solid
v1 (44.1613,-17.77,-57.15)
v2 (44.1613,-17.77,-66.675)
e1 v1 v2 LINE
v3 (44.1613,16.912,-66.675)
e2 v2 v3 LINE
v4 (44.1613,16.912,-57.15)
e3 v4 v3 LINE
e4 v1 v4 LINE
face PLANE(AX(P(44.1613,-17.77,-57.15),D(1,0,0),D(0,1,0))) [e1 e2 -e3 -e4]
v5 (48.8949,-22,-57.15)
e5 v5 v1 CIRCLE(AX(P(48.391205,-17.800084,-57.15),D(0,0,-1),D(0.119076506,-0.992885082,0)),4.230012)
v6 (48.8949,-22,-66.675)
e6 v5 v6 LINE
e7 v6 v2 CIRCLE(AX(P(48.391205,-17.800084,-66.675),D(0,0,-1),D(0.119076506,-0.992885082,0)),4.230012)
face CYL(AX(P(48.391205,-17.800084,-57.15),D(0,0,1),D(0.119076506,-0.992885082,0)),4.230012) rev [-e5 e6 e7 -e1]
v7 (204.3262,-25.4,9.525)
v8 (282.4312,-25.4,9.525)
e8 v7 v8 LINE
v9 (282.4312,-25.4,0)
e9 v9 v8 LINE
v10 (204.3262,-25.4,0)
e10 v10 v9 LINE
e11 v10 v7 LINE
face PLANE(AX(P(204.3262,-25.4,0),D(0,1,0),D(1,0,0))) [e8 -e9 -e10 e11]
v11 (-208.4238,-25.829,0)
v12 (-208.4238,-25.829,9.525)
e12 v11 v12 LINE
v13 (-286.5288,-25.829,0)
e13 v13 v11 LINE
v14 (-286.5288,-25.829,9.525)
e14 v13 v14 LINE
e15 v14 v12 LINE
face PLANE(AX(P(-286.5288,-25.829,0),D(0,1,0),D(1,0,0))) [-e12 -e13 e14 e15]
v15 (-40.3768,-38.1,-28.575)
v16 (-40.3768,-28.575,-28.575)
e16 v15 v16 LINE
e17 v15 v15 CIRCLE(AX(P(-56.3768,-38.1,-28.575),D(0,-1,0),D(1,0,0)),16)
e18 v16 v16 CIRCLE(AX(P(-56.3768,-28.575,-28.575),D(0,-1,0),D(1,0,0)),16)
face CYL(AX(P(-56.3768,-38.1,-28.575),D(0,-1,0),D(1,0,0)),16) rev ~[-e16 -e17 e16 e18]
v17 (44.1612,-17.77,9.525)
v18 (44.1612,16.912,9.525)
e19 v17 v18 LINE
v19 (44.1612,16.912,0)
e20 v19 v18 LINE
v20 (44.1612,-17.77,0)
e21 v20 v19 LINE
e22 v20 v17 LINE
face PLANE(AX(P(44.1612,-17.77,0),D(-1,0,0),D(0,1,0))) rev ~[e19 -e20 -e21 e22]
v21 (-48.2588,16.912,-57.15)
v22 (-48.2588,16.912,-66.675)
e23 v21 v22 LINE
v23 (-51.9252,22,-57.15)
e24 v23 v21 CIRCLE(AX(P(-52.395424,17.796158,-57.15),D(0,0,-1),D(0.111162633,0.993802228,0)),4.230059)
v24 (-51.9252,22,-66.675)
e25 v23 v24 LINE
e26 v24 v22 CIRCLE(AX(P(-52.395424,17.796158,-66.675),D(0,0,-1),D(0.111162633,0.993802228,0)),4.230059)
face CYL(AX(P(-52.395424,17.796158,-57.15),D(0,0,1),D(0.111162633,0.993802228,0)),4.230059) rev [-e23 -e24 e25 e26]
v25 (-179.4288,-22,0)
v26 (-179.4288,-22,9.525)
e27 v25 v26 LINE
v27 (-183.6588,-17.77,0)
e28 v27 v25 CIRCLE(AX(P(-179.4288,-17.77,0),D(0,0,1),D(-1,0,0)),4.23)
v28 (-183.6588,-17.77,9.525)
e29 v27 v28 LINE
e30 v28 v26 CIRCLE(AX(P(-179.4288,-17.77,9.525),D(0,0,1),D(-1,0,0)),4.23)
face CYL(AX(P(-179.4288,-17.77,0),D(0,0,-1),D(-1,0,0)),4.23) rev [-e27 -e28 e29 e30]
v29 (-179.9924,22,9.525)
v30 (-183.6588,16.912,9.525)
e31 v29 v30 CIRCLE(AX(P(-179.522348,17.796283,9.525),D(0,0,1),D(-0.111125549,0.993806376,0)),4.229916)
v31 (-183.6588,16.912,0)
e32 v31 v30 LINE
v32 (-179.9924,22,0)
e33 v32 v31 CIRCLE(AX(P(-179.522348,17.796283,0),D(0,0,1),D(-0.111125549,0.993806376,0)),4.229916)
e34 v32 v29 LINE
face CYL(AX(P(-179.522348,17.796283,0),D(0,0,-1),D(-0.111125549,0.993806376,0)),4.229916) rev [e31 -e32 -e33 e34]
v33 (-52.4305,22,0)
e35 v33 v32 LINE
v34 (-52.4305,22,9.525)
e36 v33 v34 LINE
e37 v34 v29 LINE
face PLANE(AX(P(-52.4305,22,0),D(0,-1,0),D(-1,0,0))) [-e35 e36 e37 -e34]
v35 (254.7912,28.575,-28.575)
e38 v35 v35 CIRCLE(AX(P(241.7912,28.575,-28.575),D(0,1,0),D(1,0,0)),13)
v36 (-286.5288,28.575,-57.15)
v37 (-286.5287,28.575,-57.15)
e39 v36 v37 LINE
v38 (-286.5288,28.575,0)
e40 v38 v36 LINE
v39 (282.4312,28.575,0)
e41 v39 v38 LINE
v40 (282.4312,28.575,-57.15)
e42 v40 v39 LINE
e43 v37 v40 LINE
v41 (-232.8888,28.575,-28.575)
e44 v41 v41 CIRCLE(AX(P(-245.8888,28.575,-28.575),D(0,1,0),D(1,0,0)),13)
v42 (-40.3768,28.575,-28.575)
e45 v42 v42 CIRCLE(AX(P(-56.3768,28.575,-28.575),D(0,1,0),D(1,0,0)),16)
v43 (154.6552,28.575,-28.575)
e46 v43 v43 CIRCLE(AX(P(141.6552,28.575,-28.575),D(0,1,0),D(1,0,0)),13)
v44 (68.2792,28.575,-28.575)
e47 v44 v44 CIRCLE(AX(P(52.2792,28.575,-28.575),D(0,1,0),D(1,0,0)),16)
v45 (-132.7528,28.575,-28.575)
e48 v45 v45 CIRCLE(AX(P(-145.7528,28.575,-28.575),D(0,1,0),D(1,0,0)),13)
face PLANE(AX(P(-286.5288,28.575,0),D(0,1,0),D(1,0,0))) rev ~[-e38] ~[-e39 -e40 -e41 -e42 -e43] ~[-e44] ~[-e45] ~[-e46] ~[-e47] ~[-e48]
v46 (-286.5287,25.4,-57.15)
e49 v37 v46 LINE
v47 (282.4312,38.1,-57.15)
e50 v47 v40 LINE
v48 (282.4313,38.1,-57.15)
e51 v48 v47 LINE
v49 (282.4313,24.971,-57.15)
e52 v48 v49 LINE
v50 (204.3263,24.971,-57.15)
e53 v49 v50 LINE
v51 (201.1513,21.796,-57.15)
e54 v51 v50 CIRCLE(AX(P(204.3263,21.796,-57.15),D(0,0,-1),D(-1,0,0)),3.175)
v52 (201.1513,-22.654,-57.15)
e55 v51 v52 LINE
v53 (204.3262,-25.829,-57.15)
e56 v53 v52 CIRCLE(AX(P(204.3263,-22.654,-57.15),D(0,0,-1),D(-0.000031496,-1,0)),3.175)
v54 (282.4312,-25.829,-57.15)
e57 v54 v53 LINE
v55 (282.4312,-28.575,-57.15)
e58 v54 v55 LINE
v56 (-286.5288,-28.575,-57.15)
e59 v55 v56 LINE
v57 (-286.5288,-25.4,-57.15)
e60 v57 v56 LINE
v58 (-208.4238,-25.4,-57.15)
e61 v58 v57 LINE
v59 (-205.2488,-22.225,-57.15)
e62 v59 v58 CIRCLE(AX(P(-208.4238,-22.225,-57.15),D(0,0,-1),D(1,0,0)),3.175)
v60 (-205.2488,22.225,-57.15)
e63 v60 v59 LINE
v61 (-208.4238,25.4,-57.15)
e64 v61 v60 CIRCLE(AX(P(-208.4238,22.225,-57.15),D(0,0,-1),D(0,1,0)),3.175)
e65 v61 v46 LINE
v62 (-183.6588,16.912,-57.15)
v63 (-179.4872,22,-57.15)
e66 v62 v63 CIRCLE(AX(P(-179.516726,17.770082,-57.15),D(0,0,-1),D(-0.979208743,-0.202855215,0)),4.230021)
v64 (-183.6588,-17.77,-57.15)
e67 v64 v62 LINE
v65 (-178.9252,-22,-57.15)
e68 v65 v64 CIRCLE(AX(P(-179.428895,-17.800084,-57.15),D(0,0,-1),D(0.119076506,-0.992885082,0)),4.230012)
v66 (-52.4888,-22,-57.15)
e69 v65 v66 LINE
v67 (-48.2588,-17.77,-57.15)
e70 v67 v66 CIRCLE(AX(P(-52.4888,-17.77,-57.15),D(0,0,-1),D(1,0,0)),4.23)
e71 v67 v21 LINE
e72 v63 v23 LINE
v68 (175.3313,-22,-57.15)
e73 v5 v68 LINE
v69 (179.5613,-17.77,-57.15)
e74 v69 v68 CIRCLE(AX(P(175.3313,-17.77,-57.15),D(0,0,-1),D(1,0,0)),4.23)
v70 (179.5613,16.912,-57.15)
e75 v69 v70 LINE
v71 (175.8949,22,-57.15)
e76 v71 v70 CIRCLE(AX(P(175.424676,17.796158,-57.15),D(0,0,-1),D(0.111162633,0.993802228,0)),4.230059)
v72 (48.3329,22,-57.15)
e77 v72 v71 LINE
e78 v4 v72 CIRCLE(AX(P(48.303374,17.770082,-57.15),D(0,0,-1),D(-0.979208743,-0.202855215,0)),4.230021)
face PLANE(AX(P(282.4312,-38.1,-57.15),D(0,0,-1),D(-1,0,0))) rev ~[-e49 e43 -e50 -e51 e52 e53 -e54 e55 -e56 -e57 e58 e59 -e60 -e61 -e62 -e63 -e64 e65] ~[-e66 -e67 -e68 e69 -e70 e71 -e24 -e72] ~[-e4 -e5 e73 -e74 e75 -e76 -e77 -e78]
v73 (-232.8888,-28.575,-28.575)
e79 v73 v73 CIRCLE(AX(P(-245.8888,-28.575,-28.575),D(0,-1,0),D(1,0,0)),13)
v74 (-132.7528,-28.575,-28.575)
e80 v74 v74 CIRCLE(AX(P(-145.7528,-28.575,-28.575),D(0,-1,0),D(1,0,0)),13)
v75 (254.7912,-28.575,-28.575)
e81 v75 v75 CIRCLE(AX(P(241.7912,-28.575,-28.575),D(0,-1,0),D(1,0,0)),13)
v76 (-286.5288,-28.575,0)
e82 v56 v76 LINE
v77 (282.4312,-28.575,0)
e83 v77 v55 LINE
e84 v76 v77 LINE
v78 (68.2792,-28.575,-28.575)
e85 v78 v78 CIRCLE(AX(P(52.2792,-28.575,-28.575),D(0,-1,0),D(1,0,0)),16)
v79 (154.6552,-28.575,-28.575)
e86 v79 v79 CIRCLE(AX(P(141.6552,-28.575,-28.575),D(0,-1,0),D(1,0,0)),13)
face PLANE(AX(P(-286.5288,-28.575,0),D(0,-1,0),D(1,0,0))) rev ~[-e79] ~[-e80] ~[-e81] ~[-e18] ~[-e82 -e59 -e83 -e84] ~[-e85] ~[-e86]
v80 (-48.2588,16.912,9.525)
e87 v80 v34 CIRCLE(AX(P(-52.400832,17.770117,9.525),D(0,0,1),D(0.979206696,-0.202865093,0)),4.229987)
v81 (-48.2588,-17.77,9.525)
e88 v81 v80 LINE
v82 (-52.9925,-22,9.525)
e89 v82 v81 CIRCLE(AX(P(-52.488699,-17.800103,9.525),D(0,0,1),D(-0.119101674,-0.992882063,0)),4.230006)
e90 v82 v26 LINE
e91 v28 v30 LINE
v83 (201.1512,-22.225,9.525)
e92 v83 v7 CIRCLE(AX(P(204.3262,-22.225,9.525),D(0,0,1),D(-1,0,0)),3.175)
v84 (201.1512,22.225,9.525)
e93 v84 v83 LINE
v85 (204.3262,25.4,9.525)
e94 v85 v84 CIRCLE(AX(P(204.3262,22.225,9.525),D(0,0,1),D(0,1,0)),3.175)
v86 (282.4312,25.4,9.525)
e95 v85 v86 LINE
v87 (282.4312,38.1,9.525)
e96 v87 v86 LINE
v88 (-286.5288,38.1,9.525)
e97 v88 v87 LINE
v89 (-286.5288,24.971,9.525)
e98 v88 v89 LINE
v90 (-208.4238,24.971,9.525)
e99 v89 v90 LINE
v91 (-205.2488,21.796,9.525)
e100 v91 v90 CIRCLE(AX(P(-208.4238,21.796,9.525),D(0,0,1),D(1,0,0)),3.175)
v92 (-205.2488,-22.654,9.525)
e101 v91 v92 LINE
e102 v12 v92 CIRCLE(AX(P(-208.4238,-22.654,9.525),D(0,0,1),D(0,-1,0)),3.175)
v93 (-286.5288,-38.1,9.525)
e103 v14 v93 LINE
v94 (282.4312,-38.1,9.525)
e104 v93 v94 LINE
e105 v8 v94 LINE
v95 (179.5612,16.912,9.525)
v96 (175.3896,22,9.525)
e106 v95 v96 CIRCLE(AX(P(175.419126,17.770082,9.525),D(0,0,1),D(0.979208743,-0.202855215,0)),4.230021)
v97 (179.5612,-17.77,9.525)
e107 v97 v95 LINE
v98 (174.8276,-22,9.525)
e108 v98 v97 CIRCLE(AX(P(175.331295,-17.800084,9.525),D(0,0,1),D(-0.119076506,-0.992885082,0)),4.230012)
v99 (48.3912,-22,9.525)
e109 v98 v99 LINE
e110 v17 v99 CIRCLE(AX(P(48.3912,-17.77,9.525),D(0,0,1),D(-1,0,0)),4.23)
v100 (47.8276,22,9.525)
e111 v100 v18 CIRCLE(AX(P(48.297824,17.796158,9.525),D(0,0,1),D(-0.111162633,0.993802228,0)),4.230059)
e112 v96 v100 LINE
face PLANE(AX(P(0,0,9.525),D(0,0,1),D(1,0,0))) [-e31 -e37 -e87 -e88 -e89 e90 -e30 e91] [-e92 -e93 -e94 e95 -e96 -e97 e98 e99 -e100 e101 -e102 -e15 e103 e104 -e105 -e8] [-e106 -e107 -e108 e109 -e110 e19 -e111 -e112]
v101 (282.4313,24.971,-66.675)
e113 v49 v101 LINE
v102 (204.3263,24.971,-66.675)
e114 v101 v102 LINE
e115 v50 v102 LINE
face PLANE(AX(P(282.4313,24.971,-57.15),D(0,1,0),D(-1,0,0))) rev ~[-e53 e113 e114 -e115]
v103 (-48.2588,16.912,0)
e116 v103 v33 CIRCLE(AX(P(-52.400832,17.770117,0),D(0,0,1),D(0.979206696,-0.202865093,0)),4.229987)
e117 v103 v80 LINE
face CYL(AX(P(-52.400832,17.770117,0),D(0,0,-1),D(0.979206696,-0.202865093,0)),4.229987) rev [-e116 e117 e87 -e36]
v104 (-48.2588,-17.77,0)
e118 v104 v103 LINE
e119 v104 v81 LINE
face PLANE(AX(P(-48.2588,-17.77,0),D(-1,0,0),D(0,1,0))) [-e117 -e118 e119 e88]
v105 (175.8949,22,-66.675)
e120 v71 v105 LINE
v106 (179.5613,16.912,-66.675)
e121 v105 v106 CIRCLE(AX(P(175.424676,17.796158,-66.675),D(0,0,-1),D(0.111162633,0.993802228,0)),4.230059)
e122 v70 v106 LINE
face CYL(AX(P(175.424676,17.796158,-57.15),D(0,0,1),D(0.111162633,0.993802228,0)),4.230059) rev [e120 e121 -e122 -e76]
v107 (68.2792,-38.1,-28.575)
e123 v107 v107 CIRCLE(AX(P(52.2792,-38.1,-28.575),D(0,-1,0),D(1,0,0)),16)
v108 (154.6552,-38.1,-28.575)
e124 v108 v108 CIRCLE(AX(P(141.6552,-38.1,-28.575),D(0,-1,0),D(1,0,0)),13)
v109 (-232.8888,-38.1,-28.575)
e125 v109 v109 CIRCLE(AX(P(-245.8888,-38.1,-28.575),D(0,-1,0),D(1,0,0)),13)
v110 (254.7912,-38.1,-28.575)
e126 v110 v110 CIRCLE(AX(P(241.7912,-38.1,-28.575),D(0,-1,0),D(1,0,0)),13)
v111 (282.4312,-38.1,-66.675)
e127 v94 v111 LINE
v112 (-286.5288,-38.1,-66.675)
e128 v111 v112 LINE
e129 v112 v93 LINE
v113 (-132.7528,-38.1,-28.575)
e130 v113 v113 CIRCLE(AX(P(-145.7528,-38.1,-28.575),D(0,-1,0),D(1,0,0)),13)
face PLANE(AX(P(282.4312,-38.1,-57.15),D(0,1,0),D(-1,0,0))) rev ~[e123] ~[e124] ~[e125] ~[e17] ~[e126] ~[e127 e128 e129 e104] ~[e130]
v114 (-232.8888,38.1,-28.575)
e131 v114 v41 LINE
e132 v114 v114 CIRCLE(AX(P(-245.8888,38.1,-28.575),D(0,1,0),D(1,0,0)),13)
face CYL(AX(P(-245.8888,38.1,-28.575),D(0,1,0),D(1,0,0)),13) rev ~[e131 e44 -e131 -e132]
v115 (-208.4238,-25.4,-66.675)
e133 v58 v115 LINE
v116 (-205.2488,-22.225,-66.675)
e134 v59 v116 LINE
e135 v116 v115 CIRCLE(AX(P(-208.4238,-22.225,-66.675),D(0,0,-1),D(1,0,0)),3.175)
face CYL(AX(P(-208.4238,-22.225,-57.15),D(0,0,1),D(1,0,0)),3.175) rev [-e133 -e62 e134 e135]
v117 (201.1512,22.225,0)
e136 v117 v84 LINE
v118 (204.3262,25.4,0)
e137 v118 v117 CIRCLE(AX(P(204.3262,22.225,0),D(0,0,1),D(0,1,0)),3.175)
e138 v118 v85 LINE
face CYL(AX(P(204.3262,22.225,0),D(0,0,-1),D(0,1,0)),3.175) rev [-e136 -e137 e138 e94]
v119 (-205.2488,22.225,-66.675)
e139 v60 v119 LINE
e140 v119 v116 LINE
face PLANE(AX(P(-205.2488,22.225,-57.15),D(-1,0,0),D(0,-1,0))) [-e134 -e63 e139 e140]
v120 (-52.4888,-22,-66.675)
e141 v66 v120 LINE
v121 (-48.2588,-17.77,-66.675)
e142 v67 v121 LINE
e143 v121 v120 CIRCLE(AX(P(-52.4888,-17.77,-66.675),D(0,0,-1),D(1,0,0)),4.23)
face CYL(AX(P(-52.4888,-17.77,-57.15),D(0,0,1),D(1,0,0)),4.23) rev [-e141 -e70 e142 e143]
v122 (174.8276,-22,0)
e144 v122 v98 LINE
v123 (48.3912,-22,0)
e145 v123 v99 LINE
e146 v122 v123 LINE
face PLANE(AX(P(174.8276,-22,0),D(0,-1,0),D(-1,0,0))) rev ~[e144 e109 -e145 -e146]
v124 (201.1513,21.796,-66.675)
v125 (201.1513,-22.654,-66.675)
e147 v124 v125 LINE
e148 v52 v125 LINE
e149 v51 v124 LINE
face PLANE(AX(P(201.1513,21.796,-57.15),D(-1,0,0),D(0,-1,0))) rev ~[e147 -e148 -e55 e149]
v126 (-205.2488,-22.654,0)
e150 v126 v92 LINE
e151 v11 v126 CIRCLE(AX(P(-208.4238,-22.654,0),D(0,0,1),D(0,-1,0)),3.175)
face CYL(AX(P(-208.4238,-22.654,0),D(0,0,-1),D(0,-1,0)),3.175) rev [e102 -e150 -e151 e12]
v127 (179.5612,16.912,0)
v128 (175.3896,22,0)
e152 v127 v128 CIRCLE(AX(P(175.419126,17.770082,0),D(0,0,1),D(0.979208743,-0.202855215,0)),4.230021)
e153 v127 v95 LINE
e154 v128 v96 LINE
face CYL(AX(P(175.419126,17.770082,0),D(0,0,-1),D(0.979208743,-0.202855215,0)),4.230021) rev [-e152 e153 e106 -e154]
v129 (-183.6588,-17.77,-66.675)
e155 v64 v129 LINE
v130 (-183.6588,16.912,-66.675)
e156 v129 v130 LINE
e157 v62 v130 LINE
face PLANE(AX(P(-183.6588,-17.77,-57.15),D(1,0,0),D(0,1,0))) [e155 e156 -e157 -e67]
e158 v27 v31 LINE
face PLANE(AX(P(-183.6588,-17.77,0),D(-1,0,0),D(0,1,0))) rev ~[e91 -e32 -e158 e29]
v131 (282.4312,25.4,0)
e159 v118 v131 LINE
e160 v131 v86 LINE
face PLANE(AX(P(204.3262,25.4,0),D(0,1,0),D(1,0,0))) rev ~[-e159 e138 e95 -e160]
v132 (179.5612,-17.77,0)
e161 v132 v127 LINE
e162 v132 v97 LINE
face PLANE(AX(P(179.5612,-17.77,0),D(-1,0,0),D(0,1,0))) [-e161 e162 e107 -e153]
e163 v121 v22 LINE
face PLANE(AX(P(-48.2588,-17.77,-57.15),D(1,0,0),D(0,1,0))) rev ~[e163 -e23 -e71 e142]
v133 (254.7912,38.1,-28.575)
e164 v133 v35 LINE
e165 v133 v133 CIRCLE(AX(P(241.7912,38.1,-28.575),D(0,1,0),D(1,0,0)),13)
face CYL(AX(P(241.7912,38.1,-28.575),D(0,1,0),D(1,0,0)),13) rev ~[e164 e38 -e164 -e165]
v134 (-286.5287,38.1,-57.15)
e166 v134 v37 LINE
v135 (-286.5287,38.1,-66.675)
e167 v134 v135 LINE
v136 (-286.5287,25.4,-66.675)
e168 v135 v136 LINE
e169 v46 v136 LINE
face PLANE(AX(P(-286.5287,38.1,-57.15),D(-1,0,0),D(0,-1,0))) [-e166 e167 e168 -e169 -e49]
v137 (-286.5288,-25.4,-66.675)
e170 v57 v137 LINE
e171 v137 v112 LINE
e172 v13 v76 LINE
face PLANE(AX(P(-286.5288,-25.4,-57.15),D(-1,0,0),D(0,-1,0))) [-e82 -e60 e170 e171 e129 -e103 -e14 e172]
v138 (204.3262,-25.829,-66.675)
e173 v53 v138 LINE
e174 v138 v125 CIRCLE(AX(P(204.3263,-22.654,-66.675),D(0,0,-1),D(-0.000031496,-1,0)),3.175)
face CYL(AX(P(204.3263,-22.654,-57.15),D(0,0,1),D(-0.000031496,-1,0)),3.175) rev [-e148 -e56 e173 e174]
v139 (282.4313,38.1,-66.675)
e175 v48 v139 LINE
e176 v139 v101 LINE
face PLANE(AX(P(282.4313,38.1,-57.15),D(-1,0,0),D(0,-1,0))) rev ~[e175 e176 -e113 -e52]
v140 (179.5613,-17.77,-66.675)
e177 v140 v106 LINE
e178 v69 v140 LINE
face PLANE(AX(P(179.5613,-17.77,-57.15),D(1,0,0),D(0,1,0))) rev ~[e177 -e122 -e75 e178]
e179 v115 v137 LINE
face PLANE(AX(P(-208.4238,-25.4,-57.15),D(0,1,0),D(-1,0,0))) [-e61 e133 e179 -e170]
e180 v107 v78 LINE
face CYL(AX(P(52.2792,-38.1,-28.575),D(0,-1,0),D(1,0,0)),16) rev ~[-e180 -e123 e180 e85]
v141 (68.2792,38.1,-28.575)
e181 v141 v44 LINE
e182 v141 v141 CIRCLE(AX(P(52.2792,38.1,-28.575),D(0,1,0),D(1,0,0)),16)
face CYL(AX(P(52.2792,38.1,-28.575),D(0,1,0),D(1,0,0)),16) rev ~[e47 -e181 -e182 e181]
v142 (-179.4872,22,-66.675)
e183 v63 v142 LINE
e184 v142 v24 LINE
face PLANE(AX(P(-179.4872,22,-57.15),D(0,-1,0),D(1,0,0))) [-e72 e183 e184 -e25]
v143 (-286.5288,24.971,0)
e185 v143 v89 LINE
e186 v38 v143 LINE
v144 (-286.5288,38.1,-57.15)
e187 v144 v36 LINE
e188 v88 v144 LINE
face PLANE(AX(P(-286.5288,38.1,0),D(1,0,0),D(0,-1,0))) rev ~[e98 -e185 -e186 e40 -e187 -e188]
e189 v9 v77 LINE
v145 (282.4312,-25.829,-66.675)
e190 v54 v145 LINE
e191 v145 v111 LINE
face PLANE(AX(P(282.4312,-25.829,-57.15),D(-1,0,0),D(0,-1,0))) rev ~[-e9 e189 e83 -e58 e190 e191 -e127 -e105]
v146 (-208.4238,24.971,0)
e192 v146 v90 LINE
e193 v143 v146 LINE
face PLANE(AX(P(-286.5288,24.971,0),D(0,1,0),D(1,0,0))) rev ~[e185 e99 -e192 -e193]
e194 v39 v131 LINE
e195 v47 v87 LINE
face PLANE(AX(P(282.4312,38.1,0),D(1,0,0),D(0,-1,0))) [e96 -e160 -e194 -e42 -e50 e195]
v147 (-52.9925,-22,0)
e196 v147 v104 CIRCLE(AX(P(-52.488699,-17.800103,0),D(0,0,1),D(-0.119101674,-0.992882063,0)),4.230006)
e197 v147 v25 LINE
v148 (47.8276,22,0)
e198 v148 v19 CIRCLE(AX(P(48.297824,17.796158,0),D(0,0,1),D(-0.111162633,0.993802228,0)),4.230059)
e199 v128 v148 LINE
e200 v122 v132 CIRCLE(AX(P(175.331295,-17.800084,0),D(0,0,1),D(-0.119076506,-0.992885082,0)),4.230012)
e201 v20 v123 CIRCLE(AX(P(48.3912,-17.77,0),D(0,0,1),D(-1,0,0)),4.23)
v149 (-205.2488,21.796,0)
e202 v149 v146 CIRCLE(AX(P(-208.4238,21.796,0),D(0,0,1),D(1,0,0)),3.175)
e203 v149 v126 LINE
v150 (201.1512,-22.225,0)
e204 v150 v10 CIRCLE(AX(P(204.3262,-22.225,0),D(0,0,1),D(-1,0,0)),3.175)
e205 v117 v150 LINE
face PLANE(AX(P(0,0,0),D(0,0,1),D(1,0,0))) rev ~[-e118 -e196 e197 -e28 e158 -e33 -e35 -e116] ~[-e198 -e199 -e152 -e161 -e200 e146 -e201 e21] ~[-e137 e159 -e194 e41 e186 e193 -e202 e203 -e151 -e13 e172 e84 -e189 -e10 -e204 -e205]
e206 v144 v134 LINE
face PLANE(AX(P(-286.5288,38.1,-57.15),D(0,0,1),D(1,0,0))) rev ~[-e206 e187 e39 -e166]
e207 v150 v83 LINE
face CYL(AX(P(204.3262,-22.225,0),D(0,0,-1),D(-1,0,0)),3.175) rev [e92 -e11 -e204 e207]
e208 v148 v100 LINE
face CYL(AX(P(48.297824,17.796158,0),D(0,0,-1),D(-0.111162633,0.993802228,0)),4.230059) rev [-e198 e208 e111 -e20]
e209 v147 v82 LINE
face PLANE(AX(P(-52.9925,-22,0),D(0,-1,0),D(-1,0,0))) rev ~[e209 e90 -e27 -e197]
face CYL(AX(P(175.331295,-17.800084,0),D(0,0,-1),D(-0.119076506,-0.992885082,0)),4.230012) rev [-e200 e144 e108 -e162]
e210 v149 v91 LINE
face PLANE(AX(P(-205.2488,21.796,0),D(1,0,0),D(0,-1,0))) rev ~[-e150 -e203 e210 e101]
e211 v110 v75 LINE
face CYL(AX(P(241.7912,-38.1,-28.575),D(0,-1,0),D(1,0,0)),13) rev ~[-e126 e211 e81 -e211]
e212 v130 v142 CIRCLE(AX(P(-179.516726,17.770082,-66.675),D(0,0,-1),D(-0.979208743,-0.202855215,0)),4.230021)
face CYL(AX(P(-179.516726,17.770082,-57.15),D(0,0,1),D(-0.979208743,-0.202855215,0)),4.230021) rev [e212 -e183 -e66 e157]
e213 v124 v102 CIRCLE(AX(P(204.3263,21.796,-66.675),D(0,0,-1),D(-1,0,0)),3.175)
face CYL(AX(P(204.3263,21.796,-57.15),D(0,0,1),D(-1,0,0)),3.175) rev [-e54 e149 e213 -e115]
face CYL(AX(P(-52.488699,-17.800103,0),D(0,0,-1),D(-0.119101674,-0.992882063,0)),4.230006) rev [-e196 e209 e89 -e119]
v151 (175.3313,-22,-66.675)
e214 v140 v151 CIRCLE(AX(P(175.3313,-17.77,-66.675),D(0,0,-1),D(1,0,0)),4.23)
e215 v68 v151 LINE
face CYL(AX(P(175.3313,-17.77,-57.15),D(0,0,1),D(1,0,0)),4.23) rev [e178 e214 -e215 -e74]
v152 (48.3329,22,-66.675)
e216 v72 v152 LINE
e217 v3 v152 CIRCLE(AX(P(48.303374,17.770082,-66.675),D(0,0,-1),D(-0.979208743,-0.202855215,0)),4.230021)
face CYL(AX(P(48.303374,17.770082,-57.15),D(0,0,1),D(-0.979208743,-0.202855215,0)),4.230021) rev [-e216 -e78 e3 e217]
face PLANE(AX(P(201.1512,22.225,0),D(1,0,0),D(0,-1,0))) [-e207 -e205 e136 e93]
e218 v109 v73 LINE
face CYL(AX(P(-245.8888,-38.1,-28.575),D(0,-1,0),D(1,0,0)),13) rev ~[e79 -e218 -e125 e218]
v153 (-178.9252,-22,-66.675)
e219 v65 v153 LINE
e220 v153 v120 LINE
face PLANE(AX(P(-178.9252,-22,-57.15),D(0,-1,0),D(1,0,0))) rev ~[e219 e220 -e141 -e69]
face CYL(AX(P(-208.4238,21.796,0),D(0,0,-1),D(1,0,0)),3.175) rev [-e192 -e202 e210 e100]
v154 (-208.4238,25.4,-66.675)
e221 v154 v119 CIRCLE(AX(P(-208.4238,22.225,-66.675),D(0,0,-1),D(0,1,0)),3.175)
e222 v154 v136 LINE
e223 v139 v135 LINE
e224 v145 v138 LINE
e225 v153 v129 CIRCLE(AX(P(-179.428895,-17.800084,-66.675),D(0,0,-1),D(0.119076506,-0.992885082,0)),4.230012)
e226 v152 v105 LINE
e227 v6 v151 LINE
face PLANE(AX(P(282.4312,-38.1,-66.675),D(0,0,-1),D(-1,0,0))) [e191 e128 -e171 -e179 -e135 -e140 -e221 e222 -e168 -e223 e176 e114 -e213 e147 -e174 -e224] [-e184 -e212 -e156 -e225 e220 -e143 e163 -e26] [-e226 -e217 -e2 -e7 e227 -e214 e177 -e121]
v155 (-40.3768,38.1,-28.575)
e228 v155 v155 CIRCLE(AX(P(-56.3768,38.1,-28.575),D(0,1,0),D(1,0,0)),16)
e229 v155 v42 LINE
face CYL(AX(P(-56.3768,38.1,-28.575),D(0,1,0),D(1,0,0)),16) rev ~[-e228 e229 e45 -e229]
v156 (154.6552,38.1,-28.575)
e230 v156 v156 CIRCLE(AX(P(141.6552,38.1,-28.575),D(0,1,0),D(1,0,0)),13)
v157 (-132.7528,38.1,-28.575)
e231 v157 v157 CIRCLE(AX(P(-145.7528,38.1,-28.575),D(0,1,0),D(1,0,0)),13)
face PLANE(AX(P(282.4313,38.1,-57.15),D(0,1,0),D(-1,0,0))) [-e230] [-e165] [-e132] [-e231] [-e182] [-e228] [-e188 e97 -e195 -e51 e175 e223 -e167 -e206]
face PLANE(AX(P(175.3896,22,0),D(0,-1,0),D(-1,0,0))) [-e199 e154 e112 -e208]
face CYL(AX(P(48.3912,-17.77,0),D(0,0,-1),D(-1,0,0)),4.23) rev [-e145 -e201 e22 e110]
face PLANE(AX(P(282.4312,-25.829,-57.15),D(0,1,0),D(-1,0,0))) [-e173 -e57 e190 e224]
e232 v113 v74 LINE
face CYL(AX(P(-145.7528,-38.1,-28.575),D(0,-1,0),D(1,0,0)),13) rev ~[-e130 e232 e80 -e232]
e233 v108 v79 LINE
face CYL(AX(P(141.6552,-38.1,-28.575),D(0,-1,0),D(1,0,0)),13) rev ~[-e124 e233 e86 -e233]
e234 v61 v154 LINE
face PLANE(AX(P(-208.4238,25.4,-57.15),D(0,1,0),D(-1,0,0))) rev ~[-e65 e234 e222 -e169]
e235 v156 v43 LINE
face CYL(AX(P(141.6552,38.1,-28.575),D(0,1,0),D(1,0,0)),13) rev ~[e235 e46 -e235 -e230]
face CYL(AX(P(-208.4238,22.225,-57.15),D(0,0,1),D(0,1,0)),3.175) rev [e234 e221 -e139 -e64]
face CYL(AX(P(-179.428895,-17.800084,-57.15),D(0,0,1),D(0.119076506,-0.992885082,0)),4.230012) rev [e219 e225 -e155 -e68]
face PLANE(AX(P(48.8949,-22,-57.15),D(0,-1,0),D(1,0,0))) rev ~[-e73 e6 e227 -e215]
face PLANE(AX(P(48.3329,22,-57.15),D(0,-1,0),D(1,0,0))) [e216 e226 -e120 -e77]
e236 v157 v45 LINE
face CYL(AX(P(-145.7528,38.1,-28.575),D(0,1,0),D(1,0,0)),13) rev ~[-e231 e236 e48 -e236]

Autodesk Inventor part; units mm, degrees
ref_plane "YZ Plane" through (0, 0, 0) normal (1, 0, 0) x (0, 1, 0)
ref_plane "XZ Plane" through (0, 0, 0) normal (0, 1, 0) x (-1, 0, 0)
ref_plane "XY Plane" through (0, 0, 0) normal (0, 0, 1) x (1, 0, 0)
sketch "Sketch1" plane through (0, 0, 0) normal (0, 0, 1) x (1, 0, 0)
  arc A0 (-183.6588, -17.77) -> (-179.4288, -22) centre (-179.4288, -17.77) ccw
  arc A1 (-179.9924, 22) -> (-183.6588, 16.912) centre (-179.5223, 17.7962) ccw
  line L0 (-183.6588, -17.77) -> (-183.6588, 16.912)
  line L1 (-205.2488, 21.796) -> (-205.2488, -22.654)
  line L2 (-286.5288, 24.971) -> (-208.4238, 24.971)
  line L3 (-286.5288, -25.829) -> (-208.4238, -25.829)
  line L4 (-52.9925, -22) -> (-179.4288, -22)
  line L5 (-52.4305, 22) -> (-179.9924, 22)
  arc A2 (-48.2588, 16.912) -> (-52.4305, 22) centre (-52.4009, 17.7701) ccw
  line L6 (-48.2588, -17.77) -> (-48.2588, 16.912)
  arc A3 (-52.9925, -22) -> (-48.2588, -17.77) centre (-52.4887, -17.8001) ccw
  arc A4 (-205.2488, 21.796) -> (-208.4238, 24.971) centre (-208.4238, 21.796) ccw
  arc A5 (-208.4238, -25.829) -> (-205.2488, -22.654) centre (-208.4238, -22.654) ccw
  line L7 (204.3262, -25.4) -> (282.4312, -25.4)
  line L8 (204.3262, 25.4) -> (282.4312, 25.4)
  line L9 (44.1612, -17.77) -> (44.1612, 16.912)
  arc A6 (44.1612, -17.77) -> (48.3912, -22) centre (48.3912, -17.77) ccw
  line L10 (175.3896, 22) -> (47.8276, 22)
  line L11 (174.8276, -22) -> (48.3912, -22)
  arc A7 (174.8276, -22) -> (179.5612, -17.77) centre (175.3313, -17.8001) ccw
  arc A8 (179.5612, 16.912) -> (175.3896, 22) centre (175.4192, 17.7701) ccw
  arc A9 (47.8276, 22) -> (44.1612, 16.912) centre (48.2978, 17.7962) ccw
  line L12 (179.5612, -17.77) -> (179.5612, 16.912)
  arc A10 (201.1512, -22.225) -> (204.3262, -25.4) centre (204.3262, -22.225) ccw
  arc A11 (204.3262, 25.4) -> (201.1512, 22.225) centre (204.3262, 22.225) ccw
  line L13 (201.1512, 22.225) -> (201.1512, -22.225)
  line L14 (-286.5288, 38.1) -> (282.4312, 38.1)
  line L15 (-286.5288, -38.1) -> (282.4312, -38.1)
  line L16 (282.4312, 38.1) -> (282.4312, 25.4)
  line L17 (282.4312, -25.4) -> (282.4312, -38.1)
  line L18 (-286.5288, 38.1) -> (-286.5288, 24.971)
  line L19 (-286.5288, -25.829) -> (-286.5288, -38.1)
  point P0 (0, 0)
  dimension "d0" = 135.4
  dimension "d1" = 44
  dimension "d2" = 78.105
  dimension "d3" = 50.8
  dimension "d4" = 44.45
  dimension "d5" = 21.59
  dimension "d6" = 135.4
  dimension "d7" = 44
  dimension "d8" = 78.105
  dimension "d9" = 50.8
  dimension "d10" = 568.96
  dimension "d11" = 21.59
extrude "Extrusion1" add sketch "Sketch1" along normal blind 9.525
sketch "Sketch2" plane through (-286.5288, 38.1, 0) normal (0, 1, 0) x (1, 0, 0)
  line L0 (0, 57.15) -> (568.96, 57.15)
  line L1 (568.96, 57.15) -> (568.96, 0)
  line L2 (568.96, 0) -> (0, 0)
  line L3 (0, 0) -> (0, 57.15)
  circle A0 centre (40.64, 28.575) radius 13
  circle A1 centre (140.776, 28.575) radius 13
  circle A2 centre (230.152, 28.575) radius 16
  circle A3 centre (528.32, 28.575) radius 13
  circle A4 centre (428.184, 28.575) radius 13
  circle A5 centre (338.808, 28.575) radius 16
  point P0 (286.5288, 0)
  point P1 (99.06, 38.1)
  dimension "d14" = 26
  dimension "d15" = 26
  dimension "d16" = 32
  dimension "d17" = 26
  dimension "d18" = 26
  dimension "d19" = 32
  dimension "d20" = 568.96
  dimension "d21" = 57.15
  dimension "d22" = 40.64
  dimension "d23" = 140.776
  dimension "d24" = 230.152
  dimension "d25" = 230.152
  dimension "d26" = 40.64
  dimension "d27" = 140.776
extrude "Extrusion2" add sketch "Sketch2" against normal blind 9.525
sketch "Sketch3" plane through (-286.5288, -38.1, 0) normal (0, -1, 0) x (1, 0, 0)
  line L0 (0, 0) -> (568.96, 0)
  line L1 (568.96, 0) -> (568.96, -57.15)
  line L2 (568.96, -57.15) -> (0, -57.15)
  line L3 (0, -57.15) -> (0, 0)
  circle A0 centre (40.64, -28.575) radius 13
  circle A1 centre (140.776, -28.575) radius 13
  circle A2 centre (230.152, -28.575) radius 16
  circle A3 centre (528.32, -28.575) radius 13
  circle A4 centre (428.184, -28.575) radius 13
  circle A5 centre (338.808, -28.575) radius 16
  point P0 (286.5288, 0)
  dimension "d30" = 26
  dimension "d31" = 26
  dimension "d32" = 32
  dimension "d33" = 26
  dimension "d34" = 26
  dimension "d35" = 32
  dimension "d36" = 568.96
  dimension "d37" = 57.15
  dimension "d38" = 40.64
  dimension "d39" = 140.776
  dimension "d40" = 230.152
  dimension "d41" = 230.152
  dimension "d42" = 40.64
  dimension "d43" = 140.776
extrude "Extrusion3" add sketch "Sketch3" against normal blind 9.525
sketch "Sketch5" plane through (282.4312, -38.1, -57.15) normal (0, 0, -1) x (-1, 0, 0)
  arc A0 (102.8699, 20.33) -> (107.0999, 16.1) centre (107.0999, 20.33) ccw
  arc A1 (106.5363, 60.1) -> (102.8699, 55.012) centre (107.0065, 55.8962) ccw
  line L0 (102.8699, 20.33) -> (102.8699, 55.012)
  line L1 (81.2799, 59.896) -> (81.2799, 15.446)
  line L2 (-0.0001, 63.071) -> (78.1049, 63.071)
  line L3 (0, 12.271) -> (78.105, 12.271)
  line L4 (233.5363, 16.1) -> (107.0999, 16.1)
  line L5 (234.0983, 60.1) -> (106.5363, 60.1)
  arc A2 (238.2699, 55.012) -> (234.0983, 60.1) centre (234.1279, 55.8701) ccw
  line L6 (238.2699, 20.33) -> (238.2699, 55.012)
  arc A3 (233.5363, 16.1) -> (238.2699, 20.33) centre (234.04, 20.2999) ccw
  arc A4 (81.2799, 59.896) -> (78.1049, 63.071) centre (78.1049, 59.896) ccw
  arc A5 (78.105, 12.271) -> (81.2799, 15.446) centre (78.1049, 15.446) ccw
  line L7 (490.855, 12.7) -> (568.96, 12.7)
  line L8 (490.855, 63.5) -> (568.9599, 63.5)
  line L9 (330.69, 20.33) -> (330.69, 55.012)
  arc A6 (330.69, 20.33) -> (334.92, 16.1) centre (334.92, 20.33) ccw
  line L10 (461.9184, 60.1) -> (334.3564, 60.1)
  line L11 (461.3564, 16.1) -> (334.92, 16.1)
  arc A7 (461.3564, 16.1) -> (466.09, 20.33) centre (461.8601, 20.2999) ccw
  arc A8 (466.09, 55.012) -> (461.9184, 60.1) centre (461.948, 55.8701) ccw
  arc A9 (334.3564, 60.1) -> (330.69, 55.012) centre (334.8266, 55.8962) ccw
  line L12 (466.09, 20.33) -> (466.09, 55.012)
  arc A10 (487.68, 15.875) -> (490.855, 12.7) centre (490.855, 15.875) ccw
  arc A11 (490.855, 63.5) -> (487.68, 60.325) centre (490.855, 60.325) ccw
  line L13 (487.68, 60.325) -> (487.68, 15.875)
  line L14 (-0.0001, 76.2) -> (568.9599, 76.2)
  line L15 (0, 0) -> (568.96, 0)
  line L16 (568.9599, 76.2) -> (568.9599, 63.5)
  line L17 (568.96, 12.7) -> (568.96, 0)
  line L18 (-0.0001, 76.2) -> (-0.0001, 63.071)
  line L19 (0, 12.271) -> (0, 0)
  point P0 (282.4312, 38.1)
  dimension "d60" = 135.4
  dimension "d61" = 44
  dimension "d62" = 78.105
  dimension "d63" = 50.8
  dimension "d64" = 44.45
  dimension "d65" = 21.59
  dimension "d66" = 135.4
  dimension "d67" = 44
  dimension "d68" = 78.105
  dimension "d69" = 50.8
  dimension "d70" = 568.96
  dimension "d71" = 21.59
extrude "Extrusion5" add sketch "Sketch5" along normal blind 9.525
sketch "Sketch6" plane through (282.4313, 24.971, -57.15) normal (1, 0, 0) x (0, 0, -1)
  point P0 (-57.15, -24.971)
properties part number "BT-BTK120-DriveFrameTube" material "Aluminum 6061"
